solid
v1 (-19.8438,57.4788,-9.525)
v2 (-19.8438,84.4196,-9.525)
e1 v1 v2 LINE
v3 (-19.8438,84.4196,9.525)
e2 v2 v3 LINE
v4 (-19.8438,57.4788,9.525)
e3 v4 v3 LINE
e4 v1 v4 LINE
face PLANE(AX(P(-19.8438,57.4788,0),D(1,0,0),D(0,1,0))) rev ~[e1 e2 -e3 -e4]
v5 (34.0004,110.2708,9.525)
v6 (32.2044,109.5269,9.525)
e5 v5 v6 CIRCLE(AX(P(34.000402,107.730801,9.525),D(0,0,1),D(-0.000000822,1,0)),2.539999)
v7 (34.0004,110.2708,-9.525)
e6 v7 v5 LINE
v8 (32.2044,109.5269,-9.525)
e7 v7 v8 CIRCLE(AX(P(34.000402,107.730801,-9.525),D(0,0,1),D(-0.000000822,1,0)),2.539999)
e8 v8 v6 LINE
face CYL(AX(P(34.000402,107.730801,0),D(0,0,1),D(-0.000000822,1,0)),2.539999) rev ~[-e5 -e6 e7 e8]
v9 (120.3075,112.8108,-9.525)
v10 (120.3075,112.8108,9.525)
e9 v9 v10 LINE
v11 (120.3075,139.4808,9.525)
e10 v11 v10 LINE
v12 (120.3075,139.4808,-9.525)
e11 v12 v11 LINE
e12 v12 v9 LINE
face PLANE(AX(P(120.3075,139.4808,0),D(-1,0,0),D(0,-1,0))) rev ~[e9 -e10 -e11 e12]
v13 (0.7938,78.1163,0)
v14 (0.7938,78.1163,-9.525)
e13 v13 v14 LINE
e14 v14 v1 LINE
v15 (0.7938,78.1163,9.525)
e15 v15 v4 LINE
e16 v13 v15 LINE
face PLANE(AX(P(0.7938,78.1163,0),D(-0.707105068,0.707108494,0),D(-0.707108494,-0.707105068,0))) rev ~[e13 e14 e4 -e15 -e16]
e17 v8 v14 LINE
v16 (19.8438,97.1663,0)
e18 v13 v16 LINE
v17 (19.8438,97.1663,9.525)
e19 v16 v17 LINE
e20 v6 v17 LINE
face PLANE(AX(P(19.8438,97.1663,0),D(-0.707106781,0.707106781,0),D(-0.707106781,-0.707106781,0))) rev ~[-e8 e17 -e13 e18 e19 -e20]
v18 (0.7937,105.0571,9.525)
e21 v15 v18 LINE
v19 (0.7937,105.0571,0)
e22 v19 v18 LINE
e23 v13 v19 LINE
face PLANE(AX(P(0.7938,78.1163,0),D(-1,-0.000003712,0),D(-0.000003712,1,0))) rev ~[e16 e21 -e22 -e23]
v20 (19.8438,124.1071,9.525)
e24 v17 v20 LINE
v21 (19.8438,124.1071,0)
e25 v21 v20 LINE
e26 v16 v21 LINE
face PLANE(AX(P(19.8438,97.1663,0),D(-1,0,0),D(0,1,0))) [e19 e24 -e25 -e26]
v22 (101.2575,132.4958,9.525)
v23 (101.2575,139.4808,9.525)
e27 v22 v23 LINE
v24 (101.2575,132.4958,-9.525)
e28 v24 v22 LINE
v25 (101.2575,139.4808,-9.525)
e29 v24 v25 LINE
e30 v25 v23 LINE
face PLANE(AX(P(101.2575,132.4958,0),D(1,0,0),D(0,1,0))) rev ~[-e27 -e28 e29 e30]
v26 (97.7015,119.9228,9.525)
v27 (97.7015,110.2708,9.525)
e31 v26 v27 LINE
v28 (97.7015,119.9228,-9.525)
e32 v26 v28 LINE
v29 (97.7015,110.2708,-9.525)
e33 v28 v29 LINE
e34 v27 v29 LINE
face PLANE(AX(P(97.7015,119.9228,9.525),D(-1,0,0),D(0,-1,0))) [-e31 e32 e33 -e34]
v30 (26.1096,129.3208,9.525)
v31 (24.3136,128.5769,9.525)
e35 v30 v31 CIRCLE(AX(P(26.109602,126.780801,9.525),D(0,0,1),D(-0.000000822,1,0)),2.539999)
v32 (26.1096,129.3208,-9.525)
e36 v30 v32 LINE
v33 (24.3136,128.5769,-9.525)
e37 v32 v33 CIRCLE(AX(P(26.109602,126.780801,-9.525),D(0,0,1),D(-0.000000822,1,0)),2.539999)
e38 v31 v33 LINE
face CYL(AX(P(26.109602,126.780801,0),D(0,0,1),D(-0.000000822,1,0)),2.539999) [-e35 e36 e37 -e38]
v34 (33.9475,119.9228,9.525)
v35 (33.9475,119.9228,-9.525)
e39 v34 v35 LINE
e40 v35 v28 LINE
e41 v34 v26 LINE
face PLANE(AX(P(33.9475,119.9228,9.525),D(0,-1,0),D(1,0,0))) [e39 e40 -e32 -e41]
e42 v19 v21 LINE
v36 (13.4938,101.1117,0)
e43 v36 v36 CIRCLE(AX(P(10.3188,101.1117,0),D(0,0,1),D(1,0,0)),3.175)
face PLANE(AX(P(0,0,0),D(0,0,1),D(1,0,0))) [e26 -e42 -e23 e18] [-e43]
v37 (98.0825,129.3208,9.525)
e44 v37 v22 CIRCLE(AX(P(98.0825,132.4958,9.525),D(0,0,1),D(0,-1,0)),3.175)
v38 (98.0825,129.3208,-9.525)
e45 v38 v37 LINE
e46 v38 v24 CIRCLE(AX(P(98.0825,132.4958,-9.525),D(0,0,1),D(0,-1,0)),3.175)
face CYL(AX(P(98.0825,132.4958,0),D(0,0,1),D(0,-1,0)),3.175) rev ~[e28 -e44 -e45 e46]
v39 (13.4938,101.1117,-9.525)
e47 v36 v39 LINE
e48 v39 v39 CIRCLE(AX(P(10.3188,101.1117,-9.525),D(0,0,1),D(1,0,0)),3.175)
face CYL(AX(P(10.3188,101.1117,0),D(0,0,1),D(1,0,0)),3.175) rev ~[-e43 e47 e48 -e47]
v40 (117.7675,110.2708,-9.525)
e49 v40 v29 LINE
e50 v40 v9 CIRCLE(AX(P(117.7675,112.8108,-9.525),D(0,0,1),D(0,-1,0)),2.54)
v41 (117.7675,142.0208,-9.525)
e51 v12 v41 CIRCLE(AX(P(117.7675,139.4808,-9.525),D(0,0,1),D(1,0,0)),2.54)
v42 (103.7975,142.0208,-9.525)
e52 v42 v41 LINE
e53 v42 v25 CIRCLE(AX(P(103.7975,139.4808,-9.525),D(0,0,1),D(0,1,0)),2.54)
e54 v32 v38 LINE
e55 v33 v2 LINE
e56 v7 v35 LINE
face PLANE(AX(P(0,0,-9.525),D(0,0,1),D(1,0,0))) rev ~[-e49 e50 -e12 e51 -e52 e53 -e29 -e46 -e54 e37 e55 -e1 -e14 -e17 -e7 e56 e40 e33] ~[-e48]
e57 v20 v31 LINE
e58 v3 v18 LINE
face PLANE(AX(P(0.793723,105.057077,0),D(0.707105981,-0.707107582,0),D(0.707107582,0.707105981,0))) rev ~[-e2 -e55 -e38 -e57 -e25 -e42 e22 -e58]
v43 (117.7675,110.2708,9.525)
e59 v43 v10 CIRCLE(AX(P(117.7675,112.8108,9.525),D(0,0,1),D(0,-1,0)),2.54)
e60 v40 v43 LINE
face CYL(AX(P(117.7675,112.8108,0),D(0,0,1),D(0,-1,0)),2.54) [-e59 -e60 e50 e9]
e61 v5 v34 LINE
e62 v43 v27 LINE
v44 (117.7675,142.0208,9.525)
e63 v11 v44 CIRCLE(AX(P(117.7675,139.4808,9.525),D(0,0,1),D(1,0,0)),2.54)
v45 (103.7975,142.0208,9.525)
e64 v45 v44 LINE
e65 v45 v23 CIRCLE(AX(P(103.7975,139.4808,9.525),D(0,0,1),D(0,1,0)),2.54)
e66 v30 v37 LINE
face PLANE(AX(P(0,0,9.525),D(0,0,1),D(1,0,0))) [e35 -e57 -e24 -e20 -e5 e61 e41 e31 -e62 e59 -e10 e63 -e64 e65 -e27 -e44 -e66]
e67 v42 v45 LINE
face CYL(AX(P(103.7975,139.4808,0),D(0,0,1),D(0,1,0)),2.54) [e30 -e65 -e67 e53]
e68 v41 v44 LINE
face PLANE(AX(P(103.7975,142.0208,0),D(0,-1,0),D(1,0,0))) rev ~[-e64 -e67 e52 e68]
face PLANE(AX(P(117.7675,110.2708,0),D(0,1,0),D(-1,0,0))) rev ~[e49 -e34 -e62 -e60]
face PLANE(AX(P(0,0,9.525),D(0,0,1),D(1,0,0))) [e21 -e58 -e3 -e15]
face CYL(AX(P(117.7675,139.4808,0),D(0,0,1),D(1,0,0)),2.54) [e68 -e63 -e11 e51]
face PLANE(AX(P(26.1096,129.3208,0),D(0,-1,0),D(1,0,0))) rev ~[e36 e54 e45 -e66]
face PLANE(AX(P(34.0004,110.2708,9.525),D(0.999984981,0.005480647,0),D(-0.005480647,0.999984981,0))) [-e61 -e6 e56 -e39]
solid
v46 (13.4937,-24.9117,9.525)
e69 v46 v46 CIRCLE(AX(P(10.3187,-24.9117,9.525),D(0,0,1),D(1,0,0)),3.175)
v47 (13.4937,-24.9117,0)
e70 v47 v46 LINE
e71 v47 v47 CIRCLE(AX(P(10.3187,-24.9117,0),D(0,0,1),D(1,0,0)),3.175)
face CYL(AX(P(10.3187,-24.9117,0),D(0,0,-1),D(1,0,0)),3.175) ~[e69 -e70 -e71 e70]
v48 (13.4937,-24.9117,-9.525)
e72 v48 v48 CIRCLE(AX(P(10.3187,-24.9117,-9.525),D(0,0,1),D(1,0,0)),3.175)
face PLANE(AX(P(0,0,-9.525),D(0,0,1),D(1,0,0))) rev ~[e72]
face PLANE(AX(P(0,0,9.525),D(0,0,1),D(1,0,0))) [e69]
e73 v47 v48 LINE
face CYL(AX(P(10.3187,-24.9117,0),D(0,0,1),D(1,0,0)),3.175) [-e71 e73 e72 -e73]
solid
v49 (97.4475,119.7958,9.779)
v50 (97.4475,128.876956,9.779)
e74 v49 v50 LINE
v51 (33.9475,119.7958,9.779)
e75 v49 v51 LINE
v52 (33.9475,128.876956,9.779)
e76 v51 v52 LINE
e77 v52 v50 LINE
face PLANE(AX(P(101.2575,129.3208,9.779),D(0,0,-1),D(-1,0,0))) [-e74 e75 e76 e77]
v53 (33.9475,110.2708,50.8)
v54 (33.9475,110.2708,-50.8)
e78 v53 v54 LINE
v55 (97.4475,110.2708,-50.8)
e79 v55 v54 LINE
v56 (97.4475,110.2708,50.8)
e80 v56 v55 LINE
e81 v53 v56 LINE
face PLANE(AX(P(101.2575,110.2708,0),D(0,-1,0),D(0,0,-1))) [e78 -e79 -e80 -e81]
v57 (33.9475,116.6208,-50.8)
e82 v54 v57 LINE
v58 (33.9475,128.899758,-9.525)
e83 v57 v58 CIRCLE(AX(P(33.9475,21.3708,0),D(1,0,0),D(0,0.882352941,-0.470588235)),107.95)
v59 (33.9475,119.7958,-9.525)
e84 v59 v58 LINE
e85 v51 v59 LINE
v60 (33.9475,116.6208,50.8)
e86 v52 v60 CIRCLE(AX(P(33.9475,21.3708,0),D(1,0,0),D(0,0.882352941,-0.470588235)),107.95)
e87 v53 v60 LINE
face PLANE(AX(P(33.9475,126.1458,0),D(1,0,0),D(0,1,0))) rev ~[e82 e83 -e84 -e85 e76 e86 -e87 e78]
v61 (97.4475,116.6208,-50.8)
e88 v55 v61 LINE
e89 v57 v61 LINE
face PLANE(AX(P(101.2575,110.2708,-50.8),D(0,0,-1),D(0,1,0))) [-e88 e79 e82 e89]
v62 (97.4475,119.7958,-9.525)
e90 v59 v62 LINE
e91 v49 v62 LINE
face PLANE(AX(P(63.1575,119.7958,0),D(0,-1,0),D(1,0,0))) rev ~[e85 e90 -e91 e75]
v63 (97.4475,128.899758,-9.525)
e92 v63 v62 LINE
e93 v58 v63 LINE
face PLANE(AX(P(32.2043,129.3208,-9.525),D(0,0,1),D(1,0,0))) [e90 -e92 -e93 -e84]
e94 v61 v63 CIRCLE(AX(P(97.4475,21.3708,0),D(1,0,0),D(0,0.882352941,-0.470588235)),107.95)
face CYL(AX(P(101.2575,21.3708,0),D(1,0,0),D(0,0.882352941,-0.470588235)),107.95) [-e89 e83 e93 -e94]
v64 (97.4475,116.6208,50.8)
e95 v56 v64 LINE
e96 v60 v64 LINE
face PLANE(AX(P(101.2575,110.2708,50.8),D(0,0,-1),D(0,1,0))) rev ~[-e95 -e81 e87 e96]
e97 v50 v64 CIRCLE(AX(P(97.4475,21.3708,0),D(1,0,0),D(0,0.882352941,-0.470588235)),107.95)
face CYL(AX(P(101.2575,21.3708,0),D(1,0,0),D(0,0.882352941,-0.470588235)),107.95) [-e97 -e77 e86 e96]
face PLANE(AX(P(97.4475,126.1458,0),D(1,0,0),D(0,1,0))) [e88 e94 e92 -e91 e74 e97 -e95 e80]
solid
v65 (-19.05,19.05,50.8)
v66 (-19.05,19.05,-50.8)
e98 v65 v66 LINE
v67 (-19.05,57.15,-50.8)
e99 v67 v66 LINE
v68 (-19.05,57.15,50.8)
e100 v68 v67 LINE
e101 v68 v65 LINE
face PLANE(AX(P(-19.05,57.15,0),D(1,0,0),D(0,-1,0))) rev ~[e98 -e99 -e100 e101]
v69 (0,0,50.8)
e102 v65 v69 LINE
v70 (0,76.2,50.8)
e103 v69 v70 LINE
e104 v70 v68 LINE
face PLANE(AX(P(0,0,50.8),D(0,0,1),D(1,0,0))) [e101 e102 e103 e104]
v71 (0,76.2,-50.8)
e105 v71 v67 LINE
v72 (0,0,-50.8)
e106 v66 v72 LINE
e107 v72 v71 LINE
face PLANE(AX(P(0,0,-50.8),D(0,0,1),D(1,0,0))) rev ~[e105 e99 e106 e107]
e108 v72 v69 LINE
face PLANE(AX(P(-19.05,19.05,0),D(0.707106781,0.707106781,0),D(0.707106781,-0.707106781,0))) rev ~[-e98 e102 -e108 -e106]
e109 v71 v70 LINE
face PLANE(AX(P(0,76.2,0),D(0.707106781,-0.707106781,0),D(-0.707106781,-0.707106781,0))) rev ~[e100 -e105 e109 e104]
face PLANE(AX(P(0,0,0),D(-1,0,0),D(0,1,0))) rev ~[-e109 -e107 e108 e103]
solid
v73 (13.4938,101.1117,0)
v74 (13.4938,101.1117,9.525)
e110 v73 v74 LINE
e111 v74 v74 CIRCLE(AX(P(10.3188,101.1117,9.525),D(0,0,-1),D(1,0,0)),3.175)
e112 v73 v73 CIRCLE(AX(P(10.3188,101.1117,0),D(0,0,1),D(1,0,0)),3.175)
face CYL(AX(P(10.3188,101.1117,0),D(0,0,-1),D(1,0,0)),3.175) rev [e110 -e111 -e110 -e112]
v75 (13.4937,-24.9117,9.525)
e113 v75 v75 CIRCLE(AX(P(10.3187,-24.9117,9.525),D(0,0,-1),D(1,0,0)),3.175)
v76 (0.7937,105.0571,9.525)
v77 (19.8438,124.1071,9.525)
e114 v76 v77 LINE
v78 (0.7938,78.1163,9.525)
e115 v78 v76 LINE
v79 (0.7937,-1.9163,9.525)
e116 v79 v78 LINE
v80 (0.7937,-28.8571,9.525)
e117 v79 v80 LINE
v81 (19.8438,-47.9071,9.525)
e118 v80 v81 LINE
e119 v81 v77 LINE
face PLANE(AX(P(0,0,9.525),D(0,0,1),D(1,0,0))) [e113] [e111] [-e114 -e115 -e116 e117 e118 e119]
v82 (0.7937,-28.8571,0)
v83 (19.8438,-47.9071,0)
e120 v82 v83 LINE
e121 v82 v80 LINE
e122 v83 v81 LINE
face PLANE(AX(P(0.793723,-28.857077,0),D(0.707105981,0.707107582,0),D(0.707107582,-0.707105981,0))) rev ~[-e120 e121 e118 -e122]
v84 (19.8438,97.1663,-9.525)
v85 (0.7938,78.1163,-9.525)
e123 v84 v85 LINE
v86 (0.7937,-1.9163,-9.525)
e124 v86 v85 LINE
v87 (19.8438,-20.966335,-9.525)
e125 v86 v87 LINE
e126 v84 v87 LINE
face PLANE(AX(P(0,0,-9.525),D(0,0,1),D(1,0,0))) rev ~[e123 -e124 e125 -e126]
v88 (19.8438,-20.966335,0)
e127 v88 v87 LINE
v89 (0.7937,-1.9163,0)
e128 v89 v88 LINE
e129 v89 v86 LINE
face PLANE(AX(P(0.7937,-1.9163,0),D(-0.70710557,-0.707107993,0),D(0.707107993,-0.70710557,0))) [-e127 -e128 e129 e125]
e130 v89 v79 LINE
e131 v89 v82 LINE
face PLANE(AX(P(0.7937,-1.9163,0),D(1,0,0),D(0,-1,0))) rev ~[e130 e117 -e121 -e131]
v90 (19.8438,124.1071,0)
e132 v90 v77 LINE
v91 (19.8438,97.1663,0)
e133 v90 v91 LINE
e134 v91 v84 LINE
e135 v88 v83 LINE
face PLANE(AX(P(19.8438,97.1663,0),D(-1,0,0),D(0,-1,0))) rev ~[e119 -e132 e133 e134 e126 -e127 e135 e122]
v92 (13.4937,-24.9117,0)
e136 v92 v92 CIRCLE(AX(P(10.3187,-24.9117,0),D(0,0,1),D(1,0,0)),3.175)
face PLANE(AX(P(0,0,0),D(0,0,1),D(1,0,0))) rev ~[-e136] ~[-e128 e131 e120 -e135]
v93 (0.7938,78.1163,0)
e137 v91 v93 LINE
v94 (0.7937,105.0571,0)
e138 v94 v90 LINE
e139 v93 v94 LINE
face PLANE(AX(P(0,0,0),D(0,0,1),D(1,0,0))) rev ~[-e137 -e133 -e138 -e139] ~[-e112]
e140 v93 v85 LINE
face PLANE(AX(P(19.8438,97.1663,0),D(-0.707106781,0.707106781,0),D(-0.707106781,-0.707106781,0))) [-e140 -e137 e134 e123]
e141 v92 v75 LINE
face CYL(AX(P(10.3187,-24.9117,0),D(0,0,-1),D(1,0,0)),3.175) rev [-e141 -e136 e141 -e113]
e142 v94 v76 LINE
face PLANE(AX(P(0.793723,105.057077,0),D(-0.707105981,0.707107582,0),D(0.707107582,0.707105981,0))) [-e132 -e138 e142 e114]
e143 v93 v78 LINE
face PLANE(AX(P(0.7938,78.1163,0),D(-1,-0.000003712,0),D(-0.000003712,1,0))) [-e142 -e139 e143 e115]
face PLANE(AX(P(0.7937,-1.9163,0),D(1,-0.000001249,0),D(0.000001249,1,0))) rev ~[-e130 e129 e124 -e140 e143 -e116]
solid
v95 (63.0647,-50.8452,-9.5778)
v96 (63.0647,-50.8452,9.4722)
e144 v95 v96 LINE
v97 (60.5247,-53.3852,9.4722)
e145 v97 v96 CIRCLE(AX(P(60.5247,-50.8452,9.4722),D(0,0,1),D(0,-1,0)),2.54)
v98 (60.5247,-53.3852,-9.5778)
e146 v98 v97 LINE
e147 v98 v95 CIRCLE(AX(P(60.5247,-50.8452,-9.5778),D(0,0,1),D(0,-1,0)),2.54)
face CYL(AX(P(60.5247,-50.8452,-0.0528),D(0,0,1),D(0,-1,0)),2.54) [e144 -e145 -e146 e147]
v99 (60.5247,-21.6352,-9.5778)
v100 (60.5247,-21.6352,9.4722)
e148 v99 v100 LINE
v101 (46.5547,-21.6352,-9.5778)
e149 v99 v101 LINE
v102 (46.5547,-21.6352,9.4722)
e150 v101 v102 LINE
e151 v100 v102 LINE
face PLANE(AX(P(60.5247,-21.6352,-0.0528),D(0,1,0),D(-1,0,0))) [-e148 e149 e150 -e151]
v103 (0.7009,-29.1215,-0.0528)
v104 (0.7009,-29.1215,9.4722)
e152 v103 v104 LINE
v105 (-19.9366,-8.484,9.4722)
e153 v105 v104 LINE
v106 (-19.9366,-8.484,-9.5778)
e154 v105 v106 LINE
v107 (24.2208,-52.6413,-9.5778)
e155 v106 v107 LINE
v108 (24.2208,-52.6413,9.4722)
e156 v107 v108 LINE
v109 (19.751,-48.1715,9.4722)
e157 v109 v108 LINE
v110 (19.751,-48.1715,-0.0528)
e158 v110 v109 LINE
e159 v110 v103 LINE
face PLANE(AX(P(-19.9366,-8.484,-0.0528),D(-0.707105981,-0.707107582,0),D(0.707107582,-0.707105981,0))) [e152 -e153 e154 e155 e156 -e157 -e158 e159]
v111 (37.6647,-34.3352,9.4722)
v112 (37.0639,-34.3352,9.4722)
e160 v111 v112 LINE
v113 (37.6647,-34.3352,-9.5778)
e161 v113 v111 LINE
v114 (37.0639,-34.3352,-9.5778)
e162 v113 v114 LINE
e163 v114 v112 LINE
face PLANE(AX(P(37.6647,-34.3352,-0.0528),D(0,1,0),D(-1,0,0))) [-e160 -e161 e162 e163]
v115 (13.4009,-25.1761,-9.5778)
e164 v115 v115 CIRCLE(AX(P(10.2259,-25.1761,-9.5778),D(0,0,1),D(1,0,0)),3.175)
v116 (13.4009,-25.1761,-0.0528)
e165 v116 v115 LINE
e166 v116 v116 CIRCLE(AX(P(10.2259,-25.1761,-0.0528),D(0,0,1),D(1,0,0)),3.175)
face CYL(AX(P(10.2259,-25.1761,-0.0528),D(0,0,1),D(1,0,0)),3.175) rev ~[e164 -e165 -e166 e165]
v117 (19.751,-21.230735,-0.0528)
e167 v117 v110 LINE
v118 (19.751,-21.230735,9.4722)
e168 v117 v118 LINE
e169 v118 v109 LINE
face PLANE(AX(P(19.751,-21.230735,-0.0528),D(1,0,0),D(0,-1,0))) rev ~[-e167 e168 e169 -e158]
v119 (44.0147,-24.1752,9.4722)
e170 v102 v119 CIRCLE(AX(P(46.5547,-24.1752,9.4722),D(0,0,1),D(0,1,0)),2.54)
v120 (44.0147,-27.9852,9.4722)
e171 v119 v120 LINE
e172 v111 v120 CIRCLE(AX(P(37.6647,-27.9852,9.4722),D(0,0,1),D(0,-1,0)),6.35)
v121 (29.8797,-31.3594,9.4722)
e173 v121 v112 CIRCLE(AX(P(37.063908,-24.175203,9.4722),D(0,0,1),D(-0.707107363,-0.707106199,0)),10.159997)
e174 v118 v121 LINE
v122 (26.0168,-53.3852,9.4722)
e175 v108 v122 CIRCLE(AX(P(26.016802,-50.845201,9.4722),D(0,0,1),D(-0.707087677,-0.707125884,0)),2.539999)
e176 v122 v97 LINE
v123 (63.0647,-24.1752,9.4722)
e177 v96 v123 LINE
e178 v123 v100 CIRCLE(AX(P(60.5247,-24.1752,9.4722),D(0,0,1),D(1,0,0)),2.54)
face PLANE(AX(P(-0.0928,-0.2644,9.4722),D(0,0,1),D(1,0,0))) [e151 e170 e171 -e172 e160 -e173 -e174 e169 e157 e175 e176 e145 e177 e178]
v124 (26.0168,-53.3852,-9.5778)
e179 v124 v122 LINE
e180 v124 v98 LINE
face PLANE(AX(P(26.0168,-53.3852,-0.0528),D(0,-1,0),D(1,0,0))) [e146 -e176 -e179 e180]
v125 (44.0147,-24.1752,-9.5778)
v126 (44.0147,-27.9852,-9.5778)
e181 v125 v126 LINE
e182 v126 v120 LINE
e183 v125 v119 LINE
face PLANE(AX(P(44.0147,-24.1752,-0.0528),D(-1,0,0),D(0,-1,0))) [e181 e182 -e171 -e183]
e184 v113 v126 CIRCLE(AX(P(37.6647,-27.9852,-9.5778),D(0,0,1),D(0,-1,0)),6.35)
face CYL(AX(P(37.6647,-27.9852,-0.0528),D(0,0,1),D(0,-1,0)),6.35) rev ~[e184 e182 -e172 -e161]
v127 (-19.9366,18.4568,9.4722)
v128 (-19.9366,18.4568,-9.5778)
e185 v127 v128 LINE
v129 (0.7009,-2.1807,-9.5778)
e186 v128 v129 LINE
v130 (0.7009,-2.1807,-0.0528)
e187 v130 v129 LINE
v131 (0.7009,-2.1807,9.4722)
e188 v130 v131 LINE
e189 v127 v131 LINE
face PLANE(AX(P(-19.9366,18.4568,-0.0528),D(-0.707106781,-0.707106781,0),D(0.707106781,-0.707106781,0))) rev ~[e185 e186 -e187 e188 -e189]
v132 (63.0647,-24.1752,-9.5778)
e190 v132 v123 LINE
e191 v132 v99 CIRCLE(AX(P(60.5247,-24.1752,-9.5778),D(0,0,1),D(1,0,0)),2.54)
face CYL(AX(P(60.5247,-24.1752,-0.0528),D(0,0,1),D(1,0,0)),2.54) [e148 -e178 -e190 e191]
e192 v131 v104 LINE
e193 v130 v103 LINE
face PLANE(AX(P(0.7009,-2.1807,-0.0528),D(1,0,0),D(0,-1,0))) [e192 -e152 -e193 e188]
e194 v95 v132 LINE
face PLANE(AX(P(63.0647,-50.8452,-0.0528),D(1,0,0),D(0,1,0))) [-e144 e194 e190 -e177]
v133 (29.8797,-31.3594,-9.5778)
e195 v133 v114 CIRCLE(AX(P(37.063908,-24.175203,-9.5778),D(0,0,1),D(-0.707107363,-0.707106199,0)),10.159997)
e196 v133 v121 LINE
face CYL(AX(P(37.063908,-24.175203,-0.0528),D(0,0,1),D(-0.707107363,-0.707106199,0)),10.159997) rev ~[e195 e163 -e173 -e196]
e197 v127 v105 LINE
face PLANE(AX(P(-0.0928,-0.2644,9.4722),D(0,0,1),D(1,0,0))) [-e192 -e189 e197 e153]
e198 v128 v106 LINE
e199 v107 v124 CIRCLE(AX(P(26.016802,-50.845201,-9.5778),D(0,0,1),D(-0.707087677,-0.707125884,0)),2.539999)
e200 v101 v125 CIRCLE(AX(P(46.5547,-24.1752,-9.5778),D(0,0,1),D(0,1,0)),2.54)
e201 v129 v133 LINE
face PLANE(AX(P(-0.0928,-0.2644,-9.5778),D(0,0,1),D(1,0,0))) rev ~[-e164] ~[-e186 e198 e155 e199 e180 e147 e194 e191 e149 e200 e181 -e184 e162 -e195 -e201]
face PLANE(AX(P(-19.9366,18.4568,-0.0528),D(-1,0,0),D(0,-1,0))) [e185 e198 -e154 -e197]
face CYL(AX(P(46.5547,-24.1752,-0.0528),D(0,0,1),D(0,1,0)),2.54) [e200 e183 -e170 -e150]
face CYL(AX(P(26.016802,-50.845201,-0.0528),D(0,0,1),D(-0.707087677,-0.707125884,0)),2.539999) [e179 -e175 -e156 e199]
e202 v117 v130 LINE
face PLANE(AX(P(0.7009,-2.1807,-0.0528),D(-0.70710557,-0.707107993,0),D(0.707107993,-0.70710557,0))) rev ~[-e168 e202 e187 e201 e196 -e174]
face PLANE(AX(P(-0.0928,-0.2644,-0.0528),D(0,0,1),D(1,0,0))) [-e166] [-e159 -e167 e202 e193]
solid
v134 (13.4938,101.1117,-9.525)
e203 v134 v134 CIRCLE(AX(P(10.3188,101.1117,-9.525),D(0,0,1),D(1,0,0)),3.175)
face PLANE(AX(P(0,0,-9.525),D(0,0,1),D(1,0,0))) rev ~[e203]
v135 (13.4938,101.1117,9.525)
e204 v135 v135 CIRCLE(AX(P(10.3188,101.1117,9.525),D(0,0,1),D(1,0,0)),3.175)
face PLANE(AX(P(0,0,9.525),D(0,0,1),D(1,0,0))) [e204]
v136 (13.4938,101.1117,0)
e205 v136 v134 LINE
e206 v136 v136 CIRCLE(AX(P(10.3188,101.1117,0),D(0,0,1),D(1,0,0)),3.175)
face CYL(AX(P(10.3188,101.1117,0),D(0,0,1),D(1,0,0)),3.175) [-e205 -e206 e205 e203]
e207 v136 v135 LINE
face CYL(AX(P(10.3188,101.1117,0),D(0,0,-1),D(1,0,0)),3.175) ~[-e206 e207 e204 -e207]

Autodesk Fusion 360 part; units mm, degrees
sketch "Sketch1" plane through (0, 0, 0) normal (0, 0, 1) x (1, 0, 0)
  line L0 (0, 0) -> (0, 76.2)
  line L1 (0, 76.2) -> (-19.05, 57.15)
  line L2 (-19.05, 57.15) -> (-19.05, 19.05)
  line L3 (-19.05, 19.05) -> (0, 0)
  line L4 (0.7937, -1.9163) -> (0.7938, 78.1163)
  line L5 (0.7938, 78.1163) -> (-19.8438, 57.4788)
  line L6 (-19.8438, 57.4788) -> (-19.8438, 18.7212)
  line L7 (-19.8438, 18.7212) -> (0.7937, -1.9163)
  line L8 (-19.8438, 57.4788) -> (-19.8438, 84.4196)
  line L9 (-19.8438, 84.4196) -> (24.3136, 128.5769)
  line L10 (32.2044, 109.5269) -> (0.7938, 78.1163)
  line L11 (19.8438, 97.1663) -> (19.8438, -47.9071)
  line L12 (19.8438, 97.1663) -> (19.8438, 124.1071)
  line L13 (0.7938, 78.1163) -> (0.7937, 105.0571)
  line L14 (0.7937, -1.9163) -> (29.9725, -31.095)
  line L15 (-19.8438, 18.7212) -> (-19.8438, -8.2196)
  line L16 (-19.8438, -8.2196) -> (24.3136, -52.3769)
  line L17 (0.7937, -1.9163) -> (0.7937, -28.8571)
  line L18 (26.1096, -53.1208) -> (60.6175, -53.1208)
  line L19 (63.1575, -50.5808) -> (63.1575, -23.9108)
  line L20 (60.6175, -21.3708) -> (46.6475, -21.3708)
  line L21 (44.1075, -23.9108) -> (44.1075, -27.7208)
  line L22 (37.7575, -34.0708) -> (37.1567, -34.0708)
  arc A0 (37.7575, -34.0708) -> (44.1075, -27.7208) centre (37.7575, -27.7208) ccw
  arc A1 (29.9725, -31.095) -> (37.1567, -34.0708) centre (37.1567, -23.9108) ccw
  arc A2 (46.6475, -21.3708) -> (44.1075, -23.9108) centre (46.6475, -23.9108) ccw
  arc A3 (63.1575, -23.9108) -> (60.6175, -21.3708) centre (60.6175, -23.9108) ccw
  arc A4 (60.6175, -53.1208) -> (63.1575, -50.5808) centre (60.6175, -50.5808) ccw
  arc A5 (24.3136, -52.3769) -> (26.1096, -53.1208) centre (26.1096, -50.5808) ccw
  line L23 (26.1096, 129.3208) -> (98.0825, 129.3208)
  line L24 (101.2575, 132.4958) -> (101.2575, 139.4808)
  line L25 (103.7975, 142.0208) -> (117.7675, 142.0208)
  line L26 (120.3075, 139.4808) -> (120.3075, 112.8108)
  line L27 (117.7675, 110.2708) -> (34.0004, 110.2708)
  arc A6 (34.0004, 110.2708) -> (32.2044, 109.5269) centre (34.0004, 107.7308) ccw
  arc A7 (26.1096, 129.3208) -> (24.3136, 128.5769) centre (26.1096, 126.7808) ccw
  arc A8 (98.0825, 129.3208) -> (101.2575, 132.4958) centre (98.0825, 132.4958) ccw
  arc A9 (103.7975, 142.0208) -> (101.2575, 139.4808) centre (103.7975, 139.4808) ccw
  arc A10 (120.3075, 139.4808) -> (117.7675, 142.0208) centre (117.7675, 139.4808) ccw
  arc A11 (117.7675, 110.2708) -> (120.3075, 112.8108) centre (117.7675, 112.8108) ccw
  line L28 (0.7937, 105.0571) -> (19.8438, 97.1663) construction
  line L29 (19.8438, 124.1071) -> (0.7938, 78.1163) construction
  circle A12 centre (10.3188, 101.1117) radius 3.175
  line L30 (0.7937, -1.9163) -> (19.8438, -47.9071) construction
  line L31 (19.8438, -20.9663) -> (0.7937, -28.8571) construction
  circle A13 centre (10.3187, -24.9117) radius 3.175
  dimension "d1" = 76.2
  dimension "d2" = 45
  dimension "d3" = 45
  dimension "d4" = 19.05
  dimension "d5" = 0.7937
  dimension "d6" = 19.05
  dimension "d8" = 19.05
  dimension "d9" = 19.05
  dimension "d10" = 63.5
  dimension "d11" = 38.1
  dimension "d12" = 31.75
  dimension "d13" = 19.05
  dimension "d14" = 19.05
  dimension "d15" = 6.35
  dimension "d16" = 10.16
  dimension "d17" = 2.54
  dimension "d18" = 2.54
  dimension "d19" = 2.54
  dimension "d20" = 2.54
  dimension "d23" = 19.05
  dimension "d24" = 19.05
  dimension "d25" = 12.7
  dimension "d26" = 76.2
  dimension "d27" = 2.54
  dimension "d28" = 2.54
  dimension "d29" = 3.175
  dimension "d30" = 2.54
  dimension "d31" = 2.54
  dimension "d46" = 6.35
  dimension "d47" = 6.35
extrude "Extrude1" add sketch "Sketch1" against normal blind 9.525 contours L9 L10 L12 L13 | L5 L8 L9 L13 | L9 L10 L12 L23 L24 L25 L26 L27 A6 A7 A8 A9 A10 A11 | A12 makes body 1 in component "Component"
extrude "Extrude2" add sketch "Sketch1" along normal blind 9.525 contours L5 L8 L9 L13 | L9 L10 L12 L23 L24 L25 L26 L27 A6 A7 A8 A9 A10 A11 bodies 1 in component "Component"
extrude "Extrude1'" add sketch "Sketch1" along normal blind 9.525 separate body contours L4 L10 L11 L14 | L11 L14 L16 L17 | L9 L10 L12 L13 | A12 | A13 makes body 2 in component "Component'"
extrude "Extrude2'" add sketch "Sketch1" against normal blind 9.525 contours L4 L10 L11 L14 bodies 2 in component "Component'"
extrude "Extrude1''" add sketch "Sketch1" against normal blind 9.525 separate body contours L7 L15 L16 L17 | L11 L14 L16 L17 | L11 L14 L16 L18 L19 L20 L21 L22 A0 A1 A2 A3 A4 A5 | A13 makes body 3 in component "Component''"
extrude "Extrude2''" add sketch "Sketch1" along normal blind 9.525 contours L7 L15 L16 L17 | L11 L14 L16 L18 L19 L20 L21 L22 A0 A1 A2 A3 A4 A5 bodies 3 in component "Component''"
extrude "Extrude1'''" add sketch "Sketch1" along normal mid plane 101.6 separate body contours L0 L1 L2 L3 makes body 4 in component "Component'''"
extrude "Extrude3" cut sketch "Sketch1" against normal through all contours A12 bodies 1 in component "Component"
extrude "Extrude3'" cut sketch "Sketch1" along normal through all contours A12 bodies 2 in component "Component'"
extrude "Extrude4" cut sketch "Sketch1" along normal through all contours A13 bodies 2 in component "Component'"
extrude "Extrude3''" cut sketch "Sketch1" against normal through all contours A13 bodies 3 in component "Component''"
extrude "Extrude1''''" add sketch "Sketch1" along normal mid plane 19.05 separate body contours A12 makes body 5 in component "Component''''"
extrude "Extrude1'''''" add sketch "Sketch1" along normal blind 9.525 and the other way blind 0 separate body contours A13 makes body 6 in component "Component'''''"
extrude "Extrude2'''" add sketch "Sketch1" against normal blind 9.525 contours A13 bodies 6 in component "Component'''''"
ref_plane "WorkPlane1" through (101.2575, 126.1458, 0) normal (1, 0, 0) x (0, -1, 0)
sketch "Sketch2" plane through (101.2575, 126.1458, 0) normal (1, 0, 0) x (0, 1, 0)
  line L0 (-16.6189, -9.525) -> (-16.6189, 9.525)
  line L1 (-15.875, 0) -> (-15.875, 50.8)
  line L2 (-15.875, 50.8) -> (-9.525, 50.8)
  line L3 (-15.875, 0) -> (-15.875, -50.8)
  line L4 (-15.875, -50.8) -> (-9.525, -50.8)
  line L5 (-15.875, 0) -> (3.175, 0)
  arc A0 (-9.525, -50.8) -> (-9.525, 50.8) centre (-104.775, 0) ccw
  dimension "d61" = 50.8
  dimension "d62" = 6.35
  dimension "d63" = 90
  dimension "d64" = 50.8
  dimension "d65" = 6.35
  dimension "d66" = 19.05
extrude "Extrude1''''''" add sketch "Sketch2" against normal blind 73.66 separate body makes body 7 in component "Component''''''"
ref_plane "WorkPlane2" through (64.4275, 129.3208, 0) normal (0, -1, 0) x (0, 0, 1)
ref_plane "WorkPlane1" through (64.4275, 129.3208, 0) normal (0, -1, 0) x (0, 0, 1) in component "Component''''''"
sketch "Sketch1 (2)" plane through (63.1575, 129.3208, 0) normal (0, -1, 0) x (1, 0, 0) in component "Component''''''"
  line L0 (38.1, 9.779) -> (-38.0387, 9.779)
  line L1 (-30.9532, -9.525) -> (-83.0013, -9.525)
  line L2 (38.1, -50.8) -> (38.1, 50.8)
  line L3 (-38.0387, -9.525) -> (38.1, -9.525)
  line L4 (38.1, 9.525) -> (38.1, -9.525)
  line L5 (-38.0387, -9.525) -> (-38.0387, 9.779)
  line L6 (-38.0387, 0.127) -> (38.1, 0)
  dimension "d79" = 19.304
extrude "Extrude2''''" cut sketch "Sketch1 (2)" along normal blind 9.525 bodies 7 in component "Component''''''"
move_face "OffsetFaces1" offset -3.81 1 faces at (101.2575, 113.4458, -3.175) on bodies 7 in component "Component''''''"
extrude "Extrude3'''" cut 1 faces at (27.5975, 113.4458, -3.175) along direction (1, 0, 0) blind 6.35 on bodies 7 bodies 7 in component "Component''''''"
sketch "Sketch1 (3)" plane through (0, 0, 9.525) normal (0, 0, 1) x (-1, 0, 0) in component "Component"
  line L0 (-34.0004, -110.2708) -> (-117.7675, -110.2708)
  arc A0 (-117.7675, -110.2708) -> (-120.3075, -112.8108) centre (-117.7675, -112.8108) ccw
  line L1 (-120.3075, -112.8108) -> (-120.3075, -139.4808)
  arc A1 (-120.3075, -139.4808) -> (-117.7675, -142.0208) centre (-117.7675, -139.4808) ccw
  line L2 (-117.7675, -142.0208) -> (-103.7975, -142.0208)
  arc A2 (-103.7975, -142.0208) -> (-101.2575, -139.4808) centre (-103.7975, -139.4808) ccw
  line L3 (-101.2575, -139.4808) -> (-101.2575, -132.4958)
  arc A3 (-98.0825, -129.3208) -> (-101.2575, -132.4958) centre (-98.0825, -132.4958) ccw
  line L4 (-98.0825, -129.3208) -> (-26.1096, -129.3208)
  arc A4 (-26.1096, -129.3208) -> (-24.3136, -128.5769) centre (-26.1096, -126.7808) ccw
  line L5 (-24.3136, -128.5769) -> (-19.8438, -124.1071)
  line L6 (-19.8438, -124.1071) -> (-19.8438, -97.1663)
  line L7 (-19.8438, -97.1663) -> (-32.2044, -109.5269)
  arc A5 (-34.0004, -110.2708) -> (-32.2044, -109.5269) centre (-34.0004, -107.7308) ccw
  line L8 (-34.0004, -110.2708) -> (-33.9475, -119.9228)
  line L9 (-33.9475, -119.9228) -> (-97.7015, -119.9228)
  line L10 (-97.7015, -119.9228) -> (-97.7015, -110.2708)
  dimension "d77" = 63.754
  dimension "d78" = 9.652
extrude "Extrude4'" cut sketch "Sketch1 (3)" against normal through all contours L0 L8 L9 L10 bodies 1 in component "Component"
component "Component" placed x (1, 0, 0) y (0, 1, 0) z (0, 0, 1) at (0, 0, 0)
component "Component'" placed x (1, 0, 0) y (0, 1, 0) z (0, 0, 1) at (0, 0, 0)
component "Component''" placed x (1, 0, 0) y (0, 1, 0) z (0, 0, 1) at (-0.0928, -0.2644, -0.0528)
component "Component'''" placed x (1, 0, 0) y (0, 1, 0) z (0, 0, 1) at (0, 0, 0)
component "Component''''" placed x (1, 0, 0) y (0, 1, 0) z (0, 0, 1) at (0, 0, 0)
component "Component'''''" placed x (1, 0, 0) y (0, 1, 0) z (0, 0, 1) at (0, 0, 0)
component "Component''''''" placed x (1, 0, 0) y (0, 1, 0) z (0, 0, 1) at (0, 0, 0)
